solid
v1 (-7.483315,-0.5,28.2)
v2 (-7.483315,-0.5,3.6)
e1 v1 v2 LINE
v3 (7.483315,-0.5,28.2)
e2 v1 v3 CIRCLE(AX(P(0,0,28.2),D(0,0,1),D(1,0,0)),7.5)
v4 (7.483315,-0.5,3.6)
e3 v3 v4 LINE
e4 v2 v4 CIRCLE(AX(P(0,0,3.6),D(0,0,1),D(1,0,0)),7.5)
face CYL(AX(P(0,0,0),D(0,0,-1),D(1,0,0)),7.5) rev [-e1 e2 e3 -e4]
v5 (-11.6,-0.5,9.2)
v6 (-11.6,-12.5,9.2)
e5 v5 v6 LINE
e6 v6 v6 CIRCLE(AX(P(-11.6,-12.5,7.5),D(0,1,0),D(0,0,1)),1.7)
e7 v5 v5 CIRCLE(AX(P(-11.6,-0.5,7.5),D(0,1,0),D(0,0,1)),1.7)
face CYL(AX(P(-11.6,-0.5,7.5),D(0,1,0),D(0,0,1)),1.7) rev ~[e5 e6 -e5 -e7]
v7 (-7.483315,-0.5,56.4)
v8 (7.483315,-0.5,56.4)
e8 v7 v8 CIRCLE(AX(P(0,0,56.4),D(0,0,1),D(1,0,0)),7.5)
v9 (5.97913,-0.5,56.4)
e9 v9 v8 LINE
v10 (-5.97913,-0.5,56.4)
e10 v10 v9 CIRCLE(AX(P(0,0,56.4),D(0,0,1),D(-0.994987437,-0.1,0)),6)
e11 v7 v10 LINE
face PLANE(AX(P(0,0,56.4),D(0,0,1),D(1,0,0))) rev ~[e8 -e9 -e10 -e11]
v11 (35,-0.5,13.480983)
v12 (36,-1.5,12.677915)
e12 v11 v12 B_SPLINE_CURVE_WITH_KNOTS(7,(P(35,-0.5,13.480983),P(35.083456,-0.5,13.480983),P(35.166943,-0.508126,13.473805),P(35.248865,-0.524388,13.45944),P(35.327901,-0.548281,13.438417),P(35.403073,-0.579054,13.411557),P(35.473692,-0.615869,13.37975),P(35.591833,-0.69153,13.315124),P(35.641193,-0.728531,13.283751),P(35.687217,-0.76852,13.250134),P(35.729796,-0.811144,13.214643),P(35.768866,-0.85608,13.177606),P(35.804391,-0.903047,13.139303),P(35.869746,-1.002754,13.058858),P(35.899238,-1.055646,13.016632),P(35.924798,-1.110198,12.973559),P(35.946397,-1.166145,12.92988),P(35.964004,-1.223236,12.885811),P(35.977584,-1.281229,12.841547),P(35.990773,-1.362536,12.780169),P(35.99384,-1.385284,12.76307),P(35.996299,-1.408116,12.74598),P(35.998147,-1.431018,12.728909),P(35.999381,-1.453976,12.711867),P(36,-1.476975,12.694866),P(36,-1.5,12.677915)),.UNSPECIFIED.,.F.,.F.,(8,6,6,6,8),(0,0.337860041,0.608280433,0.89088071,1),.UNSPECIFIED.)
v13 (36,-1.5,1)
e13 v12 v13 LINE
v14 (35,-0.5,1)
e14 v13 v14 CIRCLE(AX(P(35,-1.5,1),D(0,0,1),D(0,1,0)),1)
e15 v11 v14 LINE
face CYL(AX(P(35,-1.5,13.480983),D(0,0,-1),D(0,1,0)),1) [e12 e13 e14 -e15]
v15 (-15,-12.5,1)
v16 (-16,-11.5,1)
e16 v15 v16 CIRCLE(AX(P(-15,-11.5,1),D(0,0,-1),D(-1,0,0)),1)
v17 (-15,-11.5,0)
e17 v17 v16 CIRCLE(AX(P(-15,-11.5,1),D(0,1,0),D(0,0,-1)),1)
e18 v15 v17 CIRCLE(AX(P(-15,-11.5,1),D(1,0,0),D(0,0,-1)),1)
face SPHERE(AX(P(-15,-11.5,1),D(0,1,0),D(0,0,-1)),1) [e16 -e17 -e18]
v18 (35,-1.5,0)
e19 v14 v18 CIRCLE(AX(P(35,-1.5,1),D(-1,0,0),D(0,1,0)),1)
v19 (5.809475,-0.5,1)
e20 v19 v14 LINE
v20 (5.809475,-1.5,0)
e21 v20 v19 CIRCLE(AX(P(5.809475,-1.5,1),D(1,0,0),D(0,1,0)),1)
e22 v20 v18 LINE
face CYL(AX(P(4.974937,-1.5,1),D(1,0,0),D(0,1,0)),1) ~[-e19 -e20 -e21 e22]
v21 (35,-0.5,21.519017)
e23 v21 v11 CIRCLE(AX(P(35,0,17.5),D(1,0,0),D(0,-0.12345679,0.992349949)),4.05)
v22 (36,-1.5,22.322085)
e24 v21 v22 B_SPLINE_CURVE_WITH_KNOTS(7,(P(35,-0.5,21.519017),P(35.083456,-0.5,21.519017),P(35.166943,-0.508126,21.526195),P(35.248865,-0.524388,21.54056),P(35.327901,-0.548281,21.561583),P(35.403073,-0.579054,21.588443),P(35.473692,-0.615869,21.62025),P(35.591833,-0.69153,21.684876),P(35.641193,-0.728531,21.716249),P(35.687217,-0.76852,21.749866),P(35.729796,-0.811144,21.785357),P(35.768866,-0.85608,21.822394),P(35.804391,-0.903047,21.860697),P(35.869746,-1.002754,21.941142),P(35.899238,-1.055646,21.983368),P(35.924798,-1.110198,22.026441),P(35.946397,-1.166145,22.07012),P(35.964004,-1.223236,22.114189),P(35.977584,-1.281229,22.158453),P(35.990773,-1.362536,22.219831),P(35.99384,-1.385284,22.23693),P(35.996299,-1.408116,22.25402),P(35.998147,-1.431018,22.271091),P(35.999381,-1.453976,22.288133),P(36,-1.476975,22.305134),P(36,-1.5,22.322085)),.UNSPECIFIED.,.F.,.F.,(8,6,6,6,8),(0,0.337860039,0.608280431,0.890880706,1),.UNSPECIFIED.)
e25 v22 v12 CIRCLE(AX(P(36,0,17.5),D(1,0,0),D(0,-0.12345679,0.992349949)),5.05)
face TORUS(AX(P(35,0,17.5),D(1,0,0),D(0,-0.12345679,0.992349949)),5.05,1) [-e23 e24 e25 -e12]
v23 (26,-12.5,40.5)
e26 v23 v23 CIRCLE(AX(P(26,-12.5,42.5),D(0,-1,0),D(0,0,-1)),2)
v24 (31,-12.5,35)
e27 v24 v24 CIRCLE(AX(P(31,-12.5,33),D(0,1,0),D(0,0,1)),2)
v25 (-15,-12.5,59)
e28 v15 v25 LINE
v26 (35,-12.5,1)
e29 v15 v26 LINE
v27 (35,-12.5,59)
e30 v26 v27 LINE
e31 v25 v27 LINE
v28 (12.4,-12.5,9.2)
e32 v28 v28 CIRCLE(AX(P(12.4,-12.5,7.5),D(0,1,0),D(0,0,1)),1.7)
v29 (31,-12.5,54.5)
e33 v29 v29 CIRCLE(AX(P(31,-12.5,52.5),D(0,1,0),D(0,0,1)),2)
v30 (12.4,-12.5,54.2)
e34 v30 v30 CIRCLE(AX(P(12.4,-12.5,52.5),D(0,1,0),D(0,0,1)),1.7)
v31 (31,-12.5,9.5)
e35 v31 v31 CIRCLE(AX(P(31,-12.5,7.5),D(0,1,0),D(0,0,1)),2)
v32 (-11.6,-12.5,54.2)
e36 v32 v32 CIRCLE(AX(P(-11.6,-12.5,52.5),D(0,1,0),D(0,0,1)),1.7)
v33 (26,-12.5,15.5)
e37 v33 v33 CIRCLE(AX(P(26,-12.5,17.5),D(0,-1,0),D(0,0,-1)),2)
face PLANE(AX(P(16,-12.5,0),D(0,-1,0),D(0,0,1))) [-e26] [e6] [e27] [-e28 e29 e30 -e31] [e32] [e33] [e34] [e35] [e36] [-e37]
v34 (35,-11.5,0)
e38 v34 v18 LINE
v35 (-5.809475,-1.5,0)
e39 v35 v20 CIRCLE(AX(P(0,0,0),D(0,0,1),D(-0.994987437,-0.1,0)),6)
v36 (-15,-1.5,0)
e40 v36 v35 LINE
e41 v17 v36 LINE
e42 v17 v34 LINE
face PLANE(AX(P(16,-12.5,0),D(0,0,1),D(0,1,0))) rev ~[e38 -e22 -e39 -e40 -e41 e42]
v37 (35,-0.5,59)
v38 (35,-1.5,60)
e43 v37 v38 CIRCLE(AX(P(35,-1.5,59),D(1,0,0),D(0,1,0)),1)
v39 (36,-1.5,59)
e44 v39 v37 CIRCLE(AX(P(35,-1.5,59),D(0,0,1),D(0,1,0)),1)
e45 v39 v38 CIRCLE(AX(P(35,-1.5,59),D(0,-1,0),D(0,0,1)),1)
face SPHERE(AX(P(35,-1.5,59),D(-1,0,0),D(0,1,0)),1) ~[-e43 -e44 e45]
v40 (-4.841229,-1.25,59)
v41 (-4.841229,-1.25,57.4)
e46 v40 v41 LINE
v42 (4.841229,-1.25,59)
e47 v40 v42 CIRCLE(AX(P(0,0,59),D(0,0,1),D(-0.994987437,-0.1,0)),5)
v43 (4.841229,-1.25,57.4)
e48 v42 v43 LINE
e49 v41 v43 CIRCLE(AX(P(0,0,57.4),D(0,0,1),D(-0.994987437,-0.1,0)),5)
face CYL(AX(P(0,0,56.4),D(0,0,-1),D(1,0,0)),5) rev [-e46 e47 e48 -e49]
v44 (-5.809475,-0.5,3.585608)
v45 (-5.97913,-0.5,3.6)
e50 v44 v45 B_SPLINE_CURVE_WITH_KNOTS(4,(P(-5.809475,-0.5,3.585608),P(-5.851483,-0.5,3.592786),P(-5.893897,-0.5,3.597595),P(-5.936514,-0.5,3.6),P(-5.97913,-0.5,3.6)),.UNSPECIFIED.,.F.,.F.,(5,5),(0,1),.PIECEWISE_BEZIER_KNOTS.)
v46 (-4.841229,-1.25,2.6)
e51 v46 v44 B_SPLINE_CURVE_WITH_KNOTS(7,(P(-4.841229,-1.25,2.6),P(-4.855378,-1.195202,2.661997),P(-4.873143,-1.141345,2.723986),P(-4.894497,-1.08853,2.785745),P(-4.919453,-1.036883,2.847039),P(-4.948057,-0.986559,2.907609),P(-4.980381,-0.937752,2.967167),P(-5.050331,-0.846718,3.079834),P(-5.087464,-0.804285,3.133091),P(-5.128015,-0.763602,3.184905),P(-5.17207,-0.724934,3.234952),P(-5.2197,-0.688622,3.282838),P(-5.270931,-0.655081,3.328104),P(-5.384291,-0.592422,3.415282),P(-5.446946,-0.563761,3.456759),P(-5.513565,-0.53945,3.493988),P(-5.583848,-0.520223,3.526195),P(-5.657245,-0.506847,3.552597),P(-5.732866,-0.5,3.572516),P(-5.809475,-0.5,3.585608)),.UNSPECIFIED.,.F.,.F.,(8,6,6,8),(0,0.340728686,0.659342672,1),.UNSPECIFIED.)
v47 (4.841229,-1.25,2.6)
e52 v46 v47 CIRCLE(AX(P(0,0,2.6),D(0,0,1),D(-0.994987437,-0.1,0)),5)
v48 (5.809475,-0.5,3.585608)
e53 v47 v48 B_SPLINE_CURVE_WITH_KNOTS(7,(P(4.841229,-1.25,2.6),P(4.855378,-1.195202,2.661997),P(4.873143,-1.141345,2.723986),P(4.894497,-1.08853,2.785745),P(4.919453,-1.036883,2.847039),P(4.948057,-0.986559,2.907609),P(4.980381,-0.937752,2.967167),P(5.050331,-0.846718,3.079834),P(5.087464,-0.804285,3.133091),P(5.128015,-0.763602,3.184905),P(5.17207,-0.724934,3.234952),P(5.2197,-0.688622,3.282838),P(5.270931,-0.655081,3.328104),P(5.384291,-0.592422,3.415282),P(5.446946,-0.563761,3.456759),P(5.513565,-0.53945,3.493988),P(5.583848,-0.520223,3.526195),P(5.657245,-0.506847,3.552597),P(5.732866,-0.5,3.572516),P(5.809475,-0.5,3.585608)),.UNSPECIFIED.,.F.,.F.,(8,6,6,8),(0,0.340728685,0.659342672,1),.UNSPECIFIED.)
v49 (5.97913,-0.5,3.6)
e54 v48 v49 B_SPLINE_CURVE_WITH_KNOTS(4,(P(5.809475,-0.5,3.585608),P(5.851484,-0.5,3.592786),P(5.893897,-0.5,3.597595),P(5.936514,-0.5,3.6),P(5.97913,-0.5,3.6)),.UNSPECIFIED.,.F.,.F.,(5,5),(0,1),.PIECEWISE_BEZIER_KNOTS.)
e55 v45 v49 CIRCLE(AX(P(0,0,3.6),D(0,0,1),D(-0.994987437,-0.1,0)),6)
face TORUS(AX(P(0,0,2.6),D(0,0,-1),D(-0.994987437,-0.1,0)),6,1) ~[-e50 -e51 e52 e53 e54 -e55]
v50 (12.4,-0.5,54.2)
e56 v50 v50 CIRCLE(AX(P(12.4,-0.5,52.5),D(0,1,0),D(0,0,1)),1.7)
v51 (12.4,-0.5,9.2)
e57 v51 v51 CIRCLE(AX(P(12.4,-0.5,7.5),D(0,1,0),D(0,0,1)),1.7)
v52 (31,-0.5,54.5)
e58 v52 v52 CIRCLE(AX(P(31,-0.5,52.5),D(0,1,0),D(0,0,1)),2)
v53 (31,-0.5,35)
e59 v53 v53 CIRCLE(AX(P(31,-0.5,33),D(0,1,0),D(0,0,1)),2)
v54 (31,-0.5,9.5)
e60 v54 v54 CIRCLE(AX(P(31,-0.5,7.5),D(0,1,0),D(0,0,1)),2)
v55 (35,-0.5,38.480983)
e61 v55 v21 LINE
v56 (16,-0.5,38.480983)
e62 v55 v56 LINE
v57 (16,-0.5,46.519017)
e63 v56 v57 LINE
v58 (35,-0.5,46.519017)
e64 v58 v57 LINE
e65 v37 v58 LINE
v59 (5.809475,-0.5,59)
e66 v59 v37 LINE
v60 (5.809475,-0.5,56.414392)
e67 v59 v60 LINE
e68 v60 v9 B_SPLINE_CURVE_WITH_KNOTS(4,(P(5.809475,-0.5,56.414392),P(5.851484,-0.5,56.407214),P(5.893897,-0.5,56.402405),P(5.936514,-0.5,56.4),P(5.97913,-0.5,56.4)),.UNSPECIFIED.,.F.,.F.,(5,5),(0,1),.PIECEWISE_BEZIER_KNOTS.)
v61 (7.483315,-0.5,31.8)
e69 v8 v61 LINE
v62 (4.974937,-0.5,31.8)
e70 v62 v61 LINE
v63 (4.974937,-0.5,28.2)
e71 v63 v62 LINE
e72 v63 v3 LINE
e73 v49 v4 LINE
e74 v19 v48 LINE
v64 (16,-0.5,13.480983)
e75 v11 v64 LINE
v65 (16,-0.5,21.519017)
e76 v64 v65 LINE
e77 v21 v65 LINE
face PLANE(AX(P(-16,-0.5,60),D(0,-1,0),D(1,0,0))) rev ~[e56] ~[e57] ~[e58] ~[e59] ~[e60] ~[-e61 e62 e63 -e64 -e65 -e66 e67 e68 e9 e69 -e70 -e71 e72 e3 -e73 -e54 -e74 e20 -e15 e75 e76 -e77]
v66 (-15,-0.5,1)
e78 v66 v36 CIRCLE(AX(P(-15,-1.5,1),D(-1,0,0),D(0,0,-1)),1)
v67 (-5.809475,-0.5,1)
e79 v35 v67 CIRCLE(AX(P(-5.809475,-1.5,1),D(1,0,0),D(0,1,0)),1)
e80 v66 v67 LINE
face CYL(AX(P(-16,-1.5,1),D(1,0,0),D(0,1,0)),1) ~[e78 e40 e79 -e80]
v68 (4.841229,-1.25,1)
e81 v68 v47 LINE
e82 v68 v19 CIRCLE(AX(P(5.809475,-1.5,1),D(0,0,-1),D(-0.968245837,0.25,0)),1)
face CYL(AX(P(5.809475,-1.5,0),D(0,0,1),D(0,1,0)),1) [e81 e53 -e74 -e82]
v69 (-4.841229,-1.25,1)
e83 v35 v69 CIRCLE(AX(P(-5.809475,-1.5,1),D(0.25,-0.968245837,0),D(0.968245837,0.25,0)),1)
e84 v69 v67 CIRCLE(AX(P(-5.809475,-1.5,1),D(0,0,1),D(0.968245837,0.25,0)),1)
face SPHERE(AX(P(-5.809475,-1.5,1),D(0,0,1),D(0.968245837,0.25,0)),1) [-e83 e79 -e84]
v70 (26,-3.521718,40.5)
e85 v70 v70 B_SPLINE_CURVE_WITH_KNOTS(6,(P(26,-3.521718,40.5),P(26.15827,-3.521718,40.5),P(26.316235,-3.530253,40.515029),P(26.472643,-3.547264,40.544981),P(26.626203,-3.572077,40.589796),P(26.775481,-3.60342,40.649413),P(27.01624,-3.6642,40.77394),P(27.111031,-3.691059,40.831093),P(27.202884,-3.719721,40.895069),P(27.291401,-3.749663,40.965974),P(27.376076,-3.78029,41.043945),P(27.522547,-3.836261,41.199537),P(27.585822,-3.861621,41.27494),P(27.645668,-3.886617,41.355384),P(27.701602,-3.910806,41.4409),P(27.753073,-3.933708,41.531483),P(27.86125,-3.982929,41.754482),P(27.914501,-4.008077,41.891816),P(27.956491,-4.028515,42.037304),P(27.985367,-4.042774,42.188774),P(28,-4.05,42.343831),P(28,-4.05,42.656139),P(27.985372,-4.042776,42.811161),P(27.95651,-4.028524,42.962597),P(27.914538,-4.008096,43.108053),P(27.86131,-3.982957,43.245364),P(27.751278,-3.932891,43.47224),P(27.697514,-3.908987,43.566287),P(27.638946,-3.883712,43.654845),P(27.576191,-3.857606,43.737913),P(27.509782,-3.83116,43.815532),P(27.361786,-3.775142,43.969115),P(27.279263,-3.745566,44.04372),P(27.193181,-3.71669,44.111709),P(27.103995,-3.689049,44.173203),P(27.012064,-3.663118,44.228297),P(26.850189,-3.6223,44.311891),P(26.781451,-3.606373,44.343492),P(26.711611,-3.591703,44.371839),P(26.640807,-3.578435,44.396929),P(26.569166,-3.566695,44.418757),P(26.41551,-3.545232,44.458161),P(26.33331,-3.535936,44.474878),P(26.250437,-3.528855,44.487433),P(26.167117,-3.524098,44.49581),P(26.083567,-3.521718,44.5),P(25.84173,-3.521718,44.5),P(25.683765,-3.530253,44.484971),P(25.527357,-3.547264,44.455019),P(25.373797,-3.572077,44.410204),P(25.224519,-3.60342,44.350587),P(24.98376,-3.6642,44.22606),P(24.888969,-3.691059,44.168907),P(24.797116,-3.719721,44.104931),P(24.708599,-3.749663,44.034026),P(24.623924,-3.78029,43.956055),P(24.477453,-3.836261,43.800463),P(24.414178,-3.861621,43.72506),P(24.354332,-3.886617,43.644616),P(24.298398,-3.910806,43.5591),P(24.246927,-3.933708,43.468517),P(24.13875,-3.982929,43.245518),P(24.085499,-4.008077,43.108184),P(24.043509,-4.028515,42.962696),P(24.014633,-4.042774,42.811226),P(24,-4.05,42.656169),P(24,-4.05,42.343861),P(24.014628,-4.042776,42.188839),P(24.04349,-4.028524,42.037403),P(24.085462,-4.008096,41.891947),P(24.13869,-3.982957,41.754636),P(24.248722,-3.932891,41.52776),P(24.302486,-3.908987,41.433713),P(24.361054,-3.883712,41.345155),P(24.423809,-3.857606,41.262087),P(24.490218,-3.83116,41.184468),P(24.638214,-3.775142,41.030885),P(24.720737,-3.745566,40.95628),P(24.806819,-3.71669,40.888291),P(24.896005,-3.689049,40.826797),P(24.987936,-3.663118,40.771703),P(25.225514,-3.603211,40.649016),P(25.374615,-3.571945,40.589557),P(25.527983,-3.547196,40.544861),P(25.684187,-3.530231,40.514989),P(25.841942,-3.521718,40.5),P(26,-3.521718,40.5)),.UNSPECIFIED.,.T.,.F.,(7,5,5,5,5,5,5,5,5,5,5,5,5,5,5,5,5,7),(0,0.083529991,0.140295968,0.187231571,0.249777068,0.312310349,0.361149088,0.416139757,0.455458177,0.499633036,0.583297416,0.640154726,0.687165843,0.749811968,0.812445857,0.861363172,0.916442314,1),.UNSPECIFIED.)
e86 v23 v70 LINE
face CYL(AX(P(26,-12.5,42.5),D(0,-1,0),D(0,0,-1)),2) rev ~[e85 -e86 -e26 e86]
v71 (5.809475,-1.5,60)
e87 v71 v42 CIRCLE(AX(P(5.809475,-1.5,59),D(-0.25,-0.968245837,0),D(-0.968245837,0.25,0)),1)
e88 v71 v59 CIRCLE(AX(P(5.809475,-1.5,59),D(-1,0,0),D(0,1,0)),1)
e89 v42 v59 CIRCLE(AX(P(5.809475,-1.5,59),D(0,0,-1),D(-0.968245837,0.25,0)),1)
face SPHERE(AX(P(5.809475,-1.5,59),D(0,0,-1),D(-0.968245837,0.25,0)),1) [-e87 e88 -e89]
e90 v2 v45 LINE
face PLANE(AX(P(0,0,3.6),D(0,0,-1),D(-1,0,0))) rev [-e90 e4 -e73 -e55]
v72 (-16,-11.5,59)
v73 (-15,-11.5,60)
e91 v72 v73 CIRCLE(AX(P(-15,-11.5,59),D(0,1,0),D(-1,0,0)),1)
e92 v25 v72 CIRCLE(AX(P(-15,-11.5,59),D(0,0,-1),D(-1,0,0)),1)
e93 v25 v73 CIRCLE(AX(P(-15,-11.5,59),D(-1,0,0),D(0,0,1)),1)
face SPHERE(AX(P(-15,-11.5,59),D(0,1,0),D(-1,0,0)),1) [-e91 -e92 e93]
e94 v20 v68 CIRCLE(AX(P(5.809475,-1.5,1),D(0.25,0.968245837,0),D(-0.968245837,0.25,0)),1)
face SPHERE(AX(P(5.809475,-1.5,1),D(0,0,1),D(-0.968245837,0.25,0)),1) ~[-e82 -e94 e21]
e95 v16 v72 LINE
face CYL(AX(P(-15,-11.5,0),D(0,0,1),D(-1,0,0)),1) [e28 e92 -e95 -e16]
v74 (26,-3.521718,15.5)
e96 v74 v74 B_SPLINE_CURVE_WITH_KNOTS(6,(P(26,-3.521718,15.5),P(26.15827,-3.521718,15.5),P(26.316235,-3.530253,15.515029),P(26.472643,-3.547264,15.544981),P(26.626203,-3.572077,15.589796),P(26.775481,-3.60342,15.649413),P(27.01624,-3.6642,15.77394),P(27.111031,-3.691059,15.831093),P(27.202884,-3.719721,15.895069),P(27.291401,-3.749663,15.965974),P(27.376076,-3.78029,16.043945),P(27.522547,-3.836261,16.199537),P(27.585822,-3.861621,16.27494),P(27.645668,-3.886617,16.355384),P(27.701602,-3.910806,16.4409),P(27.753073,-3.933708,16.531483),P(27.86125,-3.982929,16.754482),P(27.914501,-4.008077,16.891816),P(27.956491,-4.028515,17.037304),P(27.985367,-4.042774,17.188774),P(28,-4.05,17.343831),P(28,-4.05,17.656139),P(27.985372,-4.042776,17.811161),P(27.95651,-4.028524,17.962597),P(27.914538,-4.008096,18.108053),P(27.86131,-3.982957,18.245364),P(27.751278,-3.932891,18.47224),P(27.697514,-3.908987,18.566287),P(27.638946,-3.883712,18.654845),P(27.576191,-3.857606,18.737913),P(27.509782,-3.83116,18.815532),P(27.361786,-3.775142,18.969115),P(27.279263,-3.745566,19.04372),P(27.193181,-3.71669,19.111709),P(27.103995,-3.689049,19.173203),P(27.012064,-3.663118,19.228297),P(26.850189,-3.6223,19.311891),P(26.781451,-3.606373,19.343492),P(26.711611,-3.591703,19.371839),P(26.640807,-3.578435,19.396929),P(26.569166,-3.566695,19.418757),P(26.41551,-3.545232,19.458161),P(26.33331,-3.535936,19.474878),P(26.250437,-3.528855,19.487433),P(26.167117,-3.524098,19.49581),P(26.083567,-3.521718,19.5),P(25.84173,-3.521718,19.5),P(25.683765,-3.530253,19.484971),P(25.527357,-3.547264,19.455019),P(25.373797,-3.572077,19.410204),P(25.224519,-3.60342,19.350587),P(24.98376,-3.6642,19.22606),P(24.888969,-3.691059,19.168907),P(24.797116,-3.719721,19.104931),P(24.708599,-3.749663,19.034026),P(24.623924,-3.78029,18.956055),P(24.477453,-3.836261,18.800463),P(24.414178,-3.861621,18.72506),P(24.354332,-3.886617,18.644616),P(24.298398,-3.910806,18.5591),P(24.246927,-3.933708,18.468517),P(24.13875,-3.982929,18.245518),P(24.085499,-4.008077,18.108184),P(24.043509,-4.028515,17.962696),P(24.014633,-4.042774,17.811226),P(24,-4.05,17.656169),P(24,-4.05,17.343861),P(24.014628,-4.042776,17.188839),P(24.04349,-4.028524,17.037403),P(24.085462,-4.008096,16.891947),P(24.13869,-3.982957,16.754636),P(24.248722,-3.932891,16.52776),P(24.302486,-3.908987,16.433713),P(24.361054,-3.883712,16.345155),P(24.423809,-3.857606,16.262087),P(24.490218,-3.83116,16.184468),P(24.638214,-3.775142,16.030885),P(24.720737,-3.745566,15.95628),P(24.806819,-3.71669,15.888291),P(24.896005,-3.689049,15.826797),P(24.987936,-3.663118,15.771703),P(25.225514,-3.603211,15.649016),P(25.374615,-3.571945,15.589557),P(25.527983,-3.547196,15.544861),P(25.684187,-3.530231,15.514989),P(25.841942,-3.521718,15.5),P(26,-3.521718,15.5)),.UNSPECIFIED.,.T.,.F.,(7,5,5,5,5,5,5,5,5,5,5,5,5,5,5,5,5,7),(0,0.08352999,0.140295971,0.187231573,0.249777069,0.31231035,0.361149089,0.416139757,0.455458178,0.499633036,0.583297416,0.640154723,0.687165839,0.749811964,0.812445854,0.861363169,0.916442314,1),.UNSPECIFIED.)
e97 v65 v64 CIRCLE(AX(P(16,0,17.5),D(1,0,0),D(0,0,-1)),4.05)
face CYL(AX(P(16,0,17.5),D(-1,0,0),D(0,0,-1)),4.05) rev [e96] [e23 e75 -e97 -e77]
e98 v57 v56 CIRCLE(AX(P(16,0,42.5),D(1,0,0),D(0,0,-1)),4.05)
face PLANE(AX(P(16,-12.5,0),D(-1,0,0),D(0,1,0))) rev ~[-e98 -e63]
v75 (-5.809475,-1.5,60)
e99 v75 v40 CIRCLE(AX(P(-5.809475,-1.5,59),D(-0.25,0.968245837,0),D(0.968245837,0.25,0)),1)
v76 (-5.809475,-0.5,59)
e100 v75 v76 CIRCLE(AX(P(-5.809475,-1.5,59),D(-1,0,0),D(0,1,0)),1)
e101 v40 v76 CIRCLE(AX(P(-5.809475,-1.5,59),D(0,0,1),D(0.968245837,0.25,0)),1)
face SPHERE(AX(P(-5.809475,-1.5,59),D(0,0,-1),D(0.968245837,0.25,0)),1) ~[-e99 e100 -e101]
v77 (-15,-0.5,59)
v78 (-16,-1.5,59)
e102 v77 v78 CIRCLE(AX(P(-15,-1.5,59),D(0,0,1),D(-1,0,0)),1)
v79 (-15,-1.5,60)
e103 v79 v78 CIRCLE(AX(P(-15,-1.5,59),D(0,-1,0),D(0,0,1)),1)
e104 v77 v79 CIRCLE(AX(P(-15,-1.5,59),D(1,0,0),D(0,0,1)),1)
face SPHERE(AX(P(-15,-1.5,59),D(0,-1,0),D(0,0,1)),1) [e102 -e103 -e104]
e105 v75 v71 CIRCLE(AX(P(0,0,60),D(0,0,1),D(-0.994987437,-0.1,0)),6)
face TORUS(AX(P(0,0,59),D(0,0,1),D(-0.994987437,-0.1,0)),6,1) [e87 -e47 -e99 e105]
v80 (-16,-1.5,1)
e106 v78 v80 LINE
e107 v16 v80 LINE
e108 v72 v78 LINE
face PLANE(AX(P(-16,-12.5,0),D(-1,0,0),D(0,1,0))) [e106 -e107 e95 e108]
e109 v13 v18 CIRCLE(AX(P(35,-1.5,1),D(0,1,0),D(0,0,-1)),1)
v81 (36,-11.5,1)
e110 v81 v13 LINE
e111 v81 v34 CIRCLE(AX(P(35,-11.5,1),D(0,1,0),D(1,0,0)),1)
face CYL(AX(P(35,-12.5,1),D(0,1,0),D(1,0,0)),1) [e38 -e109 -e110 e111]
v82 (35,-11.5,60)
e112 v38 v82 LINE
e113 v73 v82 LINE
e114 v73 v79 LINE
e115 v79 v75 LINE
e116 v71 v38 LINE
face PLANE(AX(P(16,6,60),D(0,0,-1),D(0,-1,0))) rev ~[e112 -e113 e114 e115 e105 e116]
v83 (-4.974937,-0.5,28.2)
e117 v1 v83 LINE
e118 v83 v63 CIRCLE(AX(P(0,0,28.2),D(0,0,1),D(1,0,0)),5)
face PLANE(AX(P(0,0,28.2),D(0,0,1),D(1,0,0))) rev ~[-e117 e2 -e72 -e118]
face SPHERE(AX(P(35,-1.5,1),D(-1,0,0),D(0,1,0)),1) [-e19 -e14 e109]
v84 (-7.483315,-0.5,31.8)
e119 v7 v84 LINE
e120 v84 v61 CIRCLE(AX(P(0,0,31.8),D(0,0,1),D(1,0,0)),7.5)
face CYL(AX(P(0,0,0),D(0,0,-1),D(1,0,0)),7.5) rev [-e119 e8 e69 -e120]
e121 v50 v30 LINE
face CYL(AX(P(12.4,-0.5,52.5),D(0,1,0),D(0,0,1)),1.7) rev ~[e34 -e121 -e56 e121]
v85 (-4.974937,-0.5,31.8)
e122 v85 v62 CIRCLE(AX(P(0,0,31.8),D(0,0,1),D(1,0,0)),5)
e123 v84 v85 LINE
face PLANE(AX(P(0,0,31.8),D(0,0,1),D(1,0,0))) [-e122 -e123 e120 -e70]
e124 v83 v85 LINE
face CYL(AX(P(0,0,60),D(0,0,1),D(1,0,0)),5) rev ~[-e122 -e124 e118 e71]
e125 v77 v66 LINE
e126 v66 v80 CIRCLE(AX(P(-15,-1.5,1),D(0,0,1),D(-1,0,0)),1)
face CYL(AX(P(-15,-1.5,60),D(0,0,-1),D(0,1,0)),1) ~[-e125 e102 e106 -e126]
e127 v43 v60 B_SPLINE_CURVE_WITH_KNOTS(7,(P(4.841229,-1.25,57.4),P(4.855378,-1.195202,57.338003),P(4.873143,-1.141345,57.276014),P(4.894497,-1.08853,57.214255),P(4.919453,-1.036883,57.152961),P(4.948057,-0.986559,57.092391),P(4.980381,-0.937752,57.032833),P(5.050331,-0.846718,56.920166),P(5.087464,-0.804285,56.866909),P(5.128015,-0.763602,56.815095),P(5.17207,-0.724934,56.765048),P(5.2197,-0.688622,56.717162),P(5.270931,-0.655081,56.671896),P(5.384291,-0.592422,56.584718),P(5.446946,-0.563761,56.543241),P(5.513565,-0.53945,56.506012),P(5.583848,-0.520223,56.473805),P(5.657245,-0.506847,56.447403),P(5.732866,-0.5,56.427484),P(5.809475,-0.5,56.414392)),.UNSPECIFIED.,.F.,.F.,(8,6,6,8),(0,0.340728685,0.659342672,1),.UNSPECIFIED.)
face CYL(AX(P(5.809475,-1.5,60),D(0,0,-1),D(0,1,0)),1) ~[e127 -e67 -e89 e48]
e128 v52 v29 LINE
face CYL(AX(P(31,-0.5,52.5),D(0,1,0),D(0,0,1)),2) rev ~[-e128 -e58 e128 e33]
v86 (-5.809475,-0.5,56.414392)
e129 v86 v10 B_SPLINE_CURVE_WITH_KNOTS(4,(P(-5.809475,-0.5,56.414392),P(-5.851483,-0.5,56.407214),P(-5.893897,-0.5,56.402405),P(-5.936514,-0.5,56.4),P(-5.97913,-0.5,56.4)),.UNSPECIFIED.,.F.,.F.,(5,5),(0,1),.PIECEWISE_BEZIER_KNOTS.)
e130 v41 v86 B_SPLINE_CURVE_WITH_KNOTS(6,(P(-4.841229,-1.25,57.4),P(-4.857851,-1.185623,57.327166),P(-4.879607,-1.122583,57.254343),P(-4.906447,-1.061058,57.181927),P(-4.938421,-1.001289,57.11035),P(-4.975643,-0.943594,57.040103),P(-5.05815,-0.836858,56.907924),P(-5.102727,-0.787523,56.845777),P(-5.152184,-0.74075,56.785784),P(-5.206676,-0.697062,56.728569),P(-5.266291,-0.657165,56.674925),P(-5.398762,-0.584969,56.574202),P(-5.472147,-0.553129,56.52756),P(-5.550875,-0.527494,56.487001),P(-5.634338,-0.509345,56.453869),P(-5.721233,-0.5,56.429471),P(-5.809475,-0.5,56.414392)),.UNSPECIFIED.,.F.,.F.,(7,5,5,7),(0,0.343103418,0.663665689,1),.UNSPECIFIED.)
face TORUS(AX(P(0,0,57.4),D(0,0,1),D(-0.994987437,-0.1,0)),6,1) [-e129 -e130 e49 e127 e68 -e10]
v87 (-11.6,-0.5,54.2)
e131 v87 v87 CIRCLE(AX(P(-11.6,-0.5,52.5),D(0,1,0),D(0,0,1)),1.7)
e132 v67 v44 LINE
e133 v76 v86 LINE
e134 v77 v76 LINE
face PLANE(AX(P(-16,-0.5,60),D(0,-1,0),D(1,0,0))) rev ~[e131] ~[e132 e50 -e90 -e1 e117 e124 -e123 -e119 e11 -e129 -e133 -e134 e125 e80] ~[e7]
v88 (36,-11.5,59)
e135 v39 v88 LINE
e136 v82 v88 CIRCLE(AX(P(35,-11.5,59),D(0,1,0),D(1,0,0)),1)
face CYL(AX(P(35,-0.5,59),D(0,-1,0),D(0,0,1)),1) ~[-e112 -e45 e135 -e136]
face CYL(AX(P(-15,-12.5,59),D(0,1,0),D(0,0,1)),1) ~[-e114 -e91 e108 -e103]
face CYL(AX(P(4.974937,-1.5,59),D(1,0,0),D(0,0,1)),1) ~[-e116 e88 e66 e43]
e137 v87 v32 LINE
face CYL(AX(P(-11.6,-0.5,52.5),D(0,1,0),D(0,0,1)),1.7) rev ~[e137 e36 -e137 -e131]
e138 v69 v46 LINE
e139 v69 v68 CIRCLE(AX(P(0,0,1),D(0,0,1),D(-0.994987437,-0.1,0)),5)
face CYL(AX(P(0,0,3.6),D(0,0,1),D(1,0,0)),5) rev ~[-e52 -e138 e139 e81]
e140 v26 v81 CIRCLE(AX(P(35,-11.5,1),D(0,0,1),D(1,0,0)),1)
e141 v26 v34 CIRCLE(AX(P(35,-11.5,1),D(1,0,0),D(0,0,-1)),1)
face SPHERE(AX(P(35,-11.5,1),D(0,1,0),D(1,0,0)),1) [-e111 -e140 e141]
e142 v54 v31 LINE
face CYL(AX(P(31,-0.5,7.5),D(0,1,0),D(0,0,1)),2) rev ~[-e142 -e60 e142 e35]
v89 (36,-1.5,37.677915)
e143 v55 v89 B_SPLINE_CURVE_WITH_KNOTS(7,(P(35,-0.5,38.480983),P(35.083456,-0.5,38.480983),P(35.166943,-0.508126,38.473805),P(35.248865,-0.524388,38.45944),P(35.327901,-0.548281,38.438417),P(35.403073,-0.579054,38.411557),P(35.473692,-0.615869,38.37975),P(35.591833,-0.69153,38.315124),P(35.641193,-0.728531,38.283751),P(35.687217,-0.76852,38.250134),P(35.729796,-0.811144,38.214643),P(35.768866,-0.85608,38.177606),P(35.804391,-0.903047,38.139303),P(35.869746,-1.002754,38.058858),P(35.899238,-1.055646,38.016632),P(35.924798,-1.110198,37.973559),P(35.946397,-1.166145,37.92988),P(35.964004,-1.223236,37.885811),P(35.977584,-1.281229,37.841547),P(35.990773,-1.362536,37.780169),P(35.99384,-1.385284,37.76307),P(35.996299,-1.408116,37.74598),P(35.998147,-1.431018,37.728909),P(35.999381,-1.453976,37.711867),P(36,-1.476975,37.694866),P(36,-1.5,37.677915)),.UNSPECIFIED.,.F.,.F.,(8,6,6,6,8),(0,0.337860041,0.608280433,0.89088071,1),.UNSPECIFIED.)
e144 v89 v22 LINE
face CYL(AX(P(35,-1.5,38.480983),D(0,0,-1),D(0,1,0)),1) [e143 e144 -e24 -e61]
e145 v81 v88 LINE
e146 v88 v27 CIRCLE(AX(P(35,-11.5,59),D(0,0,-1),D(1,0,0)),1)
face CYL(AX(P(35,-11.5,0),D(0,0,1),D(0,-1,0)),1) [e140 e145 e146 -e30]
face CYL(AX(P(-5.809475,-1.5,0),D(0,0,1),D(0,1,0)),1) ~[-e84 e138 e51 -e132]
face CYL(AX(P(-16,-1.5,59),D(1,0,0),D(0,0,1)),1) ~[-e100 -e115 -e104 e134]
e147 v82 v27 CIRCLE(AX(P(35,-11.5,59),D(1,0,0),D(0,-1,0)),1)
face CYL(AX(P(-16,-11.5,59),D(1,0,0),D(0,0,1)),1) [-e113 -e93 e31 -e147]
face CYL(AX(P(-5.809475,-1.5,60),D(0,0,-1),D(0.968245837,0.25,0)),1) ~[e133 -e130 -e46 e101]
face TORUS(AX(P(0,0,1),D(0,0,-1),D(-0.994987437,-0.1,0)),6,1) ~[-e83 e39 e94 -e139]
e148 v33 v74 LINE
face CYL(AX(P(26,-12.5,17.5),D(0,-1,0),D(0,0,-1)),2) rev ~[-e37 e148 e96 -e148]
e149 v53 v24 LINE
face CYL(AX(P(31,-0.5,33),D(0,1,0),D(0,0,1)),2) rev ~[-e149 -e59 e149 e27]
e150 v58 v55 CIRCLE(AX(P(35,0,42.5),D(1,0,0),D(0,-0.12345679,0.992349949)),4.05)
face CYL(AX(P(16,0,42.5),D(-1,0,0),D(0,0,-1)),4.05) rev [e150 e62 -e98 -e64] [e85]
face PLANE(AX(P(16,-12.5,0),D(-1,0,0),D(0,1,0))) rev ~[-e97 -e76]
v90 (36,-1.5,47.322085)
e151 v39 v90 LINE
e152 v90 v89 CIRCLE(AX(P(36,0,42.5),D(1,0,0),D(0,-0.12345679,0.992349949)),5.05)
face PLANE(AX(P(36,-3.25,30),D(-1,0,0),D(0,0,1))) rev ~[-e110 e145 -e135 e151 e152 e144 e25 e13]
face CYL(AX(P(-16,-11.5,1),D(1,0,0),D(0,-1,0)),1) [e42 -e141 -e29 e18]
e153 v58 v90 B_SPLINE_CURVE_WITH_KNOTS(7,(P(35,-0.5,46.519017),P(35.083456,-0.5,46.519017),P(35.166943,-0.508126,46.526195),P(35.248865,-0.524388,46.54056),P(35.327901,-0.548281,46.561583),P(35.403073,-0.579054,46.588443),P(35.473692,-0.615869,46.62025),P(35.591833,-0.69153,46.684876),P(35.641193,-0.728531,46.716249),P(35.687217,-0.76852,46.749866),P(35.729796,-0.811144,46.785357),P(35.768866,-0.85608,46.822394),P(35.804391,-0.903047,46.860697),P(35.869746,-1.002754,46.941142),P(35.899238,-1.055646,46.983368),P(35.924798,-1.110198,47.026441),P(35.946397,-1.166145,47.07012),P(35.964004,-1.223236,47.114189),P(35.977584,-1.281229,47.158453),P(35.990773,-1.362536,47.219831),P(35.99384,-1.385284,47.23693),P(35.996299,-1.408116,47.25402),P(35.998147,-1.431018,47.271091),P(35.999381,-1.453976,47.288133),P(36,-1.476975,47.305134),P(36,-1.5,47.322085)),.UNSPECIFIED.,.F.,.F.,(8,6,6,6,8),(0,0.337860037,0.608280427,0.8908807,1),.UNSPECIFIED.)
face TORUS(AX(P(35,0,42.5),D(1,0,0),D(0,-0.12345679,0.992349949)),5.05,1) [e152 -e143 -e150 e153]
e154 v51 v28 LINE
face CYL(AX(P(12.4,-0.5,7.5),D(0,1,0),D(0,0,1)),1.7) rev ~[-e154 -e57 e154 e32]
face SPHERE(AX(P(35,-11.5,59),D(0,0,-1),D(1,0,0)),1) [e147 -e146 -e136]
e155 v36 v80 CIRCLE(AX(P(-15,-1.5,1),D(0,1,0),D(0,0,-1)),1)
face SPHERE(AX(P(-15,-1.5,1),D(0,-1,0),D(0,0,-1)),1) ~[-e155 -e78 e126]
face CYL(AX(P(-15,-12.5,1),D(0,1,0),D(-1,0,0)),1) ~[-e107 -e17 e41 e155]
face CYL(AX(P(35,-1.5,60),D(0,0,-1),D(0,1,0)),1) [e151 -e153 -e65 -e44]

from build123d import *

# Parameters (mm, degrees)
SKETCH1_W           = 32
SKETCH1_H           = 30.5
SKETCH1_R           = 7.5
BOSS_EXTRUDE1_DEPTH = 60
SKETCH9_R           = 7.5
BOSS_EXTRUDE3_DEPTH = 1.8
BOSS_EXTRUDE4_START = -3.6
SKETCH10_R          = 7.5
SKETCH10_R_2        = 5
BOSS_EXTRUDE4_DEPTH = 3.6
SKETCH2_R           = 3
CUT_EXTRUDE2_DEPTH  = 8
SKETCH4_R           = 4.05
BOSS_EXTRUDE2_DEPTH = 20
SKETCH6_W           = 52
SKETCH6_H           = 1
CUT_EXTRUDE4_DEPTH  = 73.249567473
SKETCH7_R           = 1.7
CUT_EXTRUDE5_DEPTH  = 71.992957397
SKETCH8_R           = 2
CUT_EXTRUDE6_DEPTH  = 71.992957397
SKETCH11_R          = 2
CUT_EXTRUDE7_DEPTH  = 71.992957397
SKETCH12_R          = 5
CUT_EXTRUDE8_DEPTH  = 72.079181268
FILLET1_R           = 1


with BuildPart() as part:
    # Sketch1 → Boss-Extrude1 (new body)
    with BuildSketch(Plane.XY):
        with Locations((0, 2.75)):
            Rectangle(SKETCH1_W, SKETCH1_H)
        Circle(SKETCH1_R, mode=Mode.SUBTRACT)
    extrude(amount=BOSS_EXTRUDE1_DEPTH)

    # Sketch9 → Boss-Extrude3 (add, symmetric)
    with BuildSketch(Plane.XY.offset(30)):
        Circle(SKETCH9_R)
    extrude(amount=BOSS_EXTRUDE3_DEPTH, both=True)

    # Sketch10 → Boss-Extrude4 (add)
    with BuildSketch(Plane.XY.offset(60).offset(BOSS_EXTRUDE4_START)):
        Circle(SKETCH10_R)
        Circle(SKETCH10_R_2, mode=Mode.SUBTRACT)
    boss_extrude4 = extrude(amount=BOSS_EXTRUDE4_DEPTH)

    # Mirror1: Boss-Extrude4 across plane
    add(boss_extrude4.mirror(Plane.XY.offset(30)))

    # Sketch2 → Cut-Extrude2 (cut)
    with BuildSketch(Plane(origin=(0, 18, 0), x_dir=(1, 0, 0), z_dir=(0, 1, 0))):
        with Locations(Location((0, -17.5, 0), (0, 0, 180))):
            Circle(SKETCH2_R)
        with Locations(Location((0, -42.5, 0), (0, 0, 180))):
            Circle(SKETCH2_R)
    extrude(amount=-CUT_EXTRUDE2_DEPTH, mode=Mode.SUBTRACT)

    # Sketch4 → Boss-Extrude2 (add)
    with BuildSketch(Plane(origin=(16, 0, 0), x_dir=(0, 0, -1), z_dir=(1, 0, 0))):
        Polygon((-60, -6), (-60, 6), (0, 6), (0, -6), (0, -12.5), (-60, -12.5), align=None)
        with Locations((-42.5, 0)):
            Circle(SKETCH4_R, mode=Mode.SUBTRACT)
        with Locations((-17.5, 0)):
            Circle(SKETCH4_R, mode=Mode.SUBTRACT)
    extrude(amount=BOSS_EXTRUDE2_DEPTH)

    # Sketch6 → Cut-Extrude4 (cut, through all)
    with BuildSketch(Plane.XY.offset(60)):
        with Locations((10, 0)):
            Rectangle(SKETCH6_W, SKETCH6_H)
    extrude(amount=-CUT_EXTRUDE4_DEPTH, mode=Mode.SUBTRACT)


with BuildPart() as cut_extrude4_kept_piece:
    # of the separate pieces the step leaves, the one the design keeps (cut_extrude4_pieces_kept)
    add(part.part.solids().sort_by_distance((-16, -12.5, 0))[0])

    # Sketch7 → Cut-Extrude5 (cut, through all)
    with BuildSketch(Plane(origin=(0, -0.5, 0), x_dir=(1, 0, 0), z_dir=(0, 1, 0))):
        with Locations(Location((-11.6, -7.5, 0), (0, 0, 270))):
            Circle(SKETCH7_R)
        with Locations(Location((-11.6, -52.5, 0), (0, 0, 270))):
            Circle(SKETCH7_R)
        with Locations(Location((12.4, -52.5, 0), (0, 0, 270))):
            Circle(SKETCH7_R)
        with Locations(Location((12.4, -7.5, 0), (0, 0, 270))):
            Circle(SKETCH7_R)
    extrude(amount=-CUT_EXTRUDE5_DEPTH, mode=Mode.SUBTRACT)

    # Sketch8 → Cut-Extrude6 (cut, through all)
    with BuildSketch(Plane(origin=(0, -0.5, 0), x_dir=(1, 0, 0), z_dir=(0, 1, 0))):
        with Locations(Location((31, -7.5, 0), (0, 0, 270))):
            Circle(SKETCH8_R)
        with Locations(Location((31, -33, 0), (0, 0, 270))):
            Circle(SKETCH8_R)
        with Locations(Location((31, -52.5, 0), (0, 0, 270))):
            Circle(SKETCH8_R)
    extrude(amount=-CUT_EXTRUDE6_DEPTH, mode=Mode.SUBTRACT)

    # Sketch11 → Cut-Extrude7 (cut, through all)
    with BuildSketch(Plane.XZ.offset(12.5)):
        with Locations(Location((26, 17.5, 0), (0, 0, 270))):
            Circle(SKETCH11_R)
        with Locations(Location((26, 42.5, 0), (0, 0, 270))):
            Circle(SKETCH11_R)
    extrude(amount=-CUT_EXTRUDE7_DEPTH, mode=Mode.SUBTRACT)

    # Sketch12 → Cut-Extrude8 (cut, through all)
    with BuildSketch(Plane.XY.offset(60)):
        Circle(SKETCH12_R)
    extrude(amount=-CUT_EXTRUDE8_DEPTH, mode=Mode.SUBTRACT)

    # Fillet1
    fillet1_edges = [cut_extrude4_kept_piece.edges().sort_by_distance(p)[0] for p in [
        (0, -5, 60),
        (-16, -6.5, 0),
        (-16, -6.5, 60),
        (20.487468593, -0.5, 60),
        (-10.487468593, -0.5, 60),
        (-4.974937186, -0.5, 58.2),
        (-10.487468593, -0.5, 0),
        (20.487468593, -0.5, 0),
        (36, -0.5, 6.740491354),
        (36, -0.5, 30),
        (36, -0.5, 53.259508646),
        (4.974937186, -0.5, 58.2),
        (-4.974937186, -0.5, 1.8),
        (4.974937186, -0.5, 1.8),
        (-16, -0.5, 30),
        (36, -6.5, 0),
        (36, -12.5, 30),
        (10, -12.5, 0),
        (36, -4.05, 17.5),
        (36, -4.05, 42.5),
        (36, -6.5, 60),
        (-16, -12.5, 30),
        (0, -5, 3.6),
        (0, -5, 0),
        (10, -12.5, 60),
        (0, -5, 56.4),
    ]]
    fillet(fillet1_edges, radius=FILLET1_R)


solid = cut_extrude4_kept_piece.part
